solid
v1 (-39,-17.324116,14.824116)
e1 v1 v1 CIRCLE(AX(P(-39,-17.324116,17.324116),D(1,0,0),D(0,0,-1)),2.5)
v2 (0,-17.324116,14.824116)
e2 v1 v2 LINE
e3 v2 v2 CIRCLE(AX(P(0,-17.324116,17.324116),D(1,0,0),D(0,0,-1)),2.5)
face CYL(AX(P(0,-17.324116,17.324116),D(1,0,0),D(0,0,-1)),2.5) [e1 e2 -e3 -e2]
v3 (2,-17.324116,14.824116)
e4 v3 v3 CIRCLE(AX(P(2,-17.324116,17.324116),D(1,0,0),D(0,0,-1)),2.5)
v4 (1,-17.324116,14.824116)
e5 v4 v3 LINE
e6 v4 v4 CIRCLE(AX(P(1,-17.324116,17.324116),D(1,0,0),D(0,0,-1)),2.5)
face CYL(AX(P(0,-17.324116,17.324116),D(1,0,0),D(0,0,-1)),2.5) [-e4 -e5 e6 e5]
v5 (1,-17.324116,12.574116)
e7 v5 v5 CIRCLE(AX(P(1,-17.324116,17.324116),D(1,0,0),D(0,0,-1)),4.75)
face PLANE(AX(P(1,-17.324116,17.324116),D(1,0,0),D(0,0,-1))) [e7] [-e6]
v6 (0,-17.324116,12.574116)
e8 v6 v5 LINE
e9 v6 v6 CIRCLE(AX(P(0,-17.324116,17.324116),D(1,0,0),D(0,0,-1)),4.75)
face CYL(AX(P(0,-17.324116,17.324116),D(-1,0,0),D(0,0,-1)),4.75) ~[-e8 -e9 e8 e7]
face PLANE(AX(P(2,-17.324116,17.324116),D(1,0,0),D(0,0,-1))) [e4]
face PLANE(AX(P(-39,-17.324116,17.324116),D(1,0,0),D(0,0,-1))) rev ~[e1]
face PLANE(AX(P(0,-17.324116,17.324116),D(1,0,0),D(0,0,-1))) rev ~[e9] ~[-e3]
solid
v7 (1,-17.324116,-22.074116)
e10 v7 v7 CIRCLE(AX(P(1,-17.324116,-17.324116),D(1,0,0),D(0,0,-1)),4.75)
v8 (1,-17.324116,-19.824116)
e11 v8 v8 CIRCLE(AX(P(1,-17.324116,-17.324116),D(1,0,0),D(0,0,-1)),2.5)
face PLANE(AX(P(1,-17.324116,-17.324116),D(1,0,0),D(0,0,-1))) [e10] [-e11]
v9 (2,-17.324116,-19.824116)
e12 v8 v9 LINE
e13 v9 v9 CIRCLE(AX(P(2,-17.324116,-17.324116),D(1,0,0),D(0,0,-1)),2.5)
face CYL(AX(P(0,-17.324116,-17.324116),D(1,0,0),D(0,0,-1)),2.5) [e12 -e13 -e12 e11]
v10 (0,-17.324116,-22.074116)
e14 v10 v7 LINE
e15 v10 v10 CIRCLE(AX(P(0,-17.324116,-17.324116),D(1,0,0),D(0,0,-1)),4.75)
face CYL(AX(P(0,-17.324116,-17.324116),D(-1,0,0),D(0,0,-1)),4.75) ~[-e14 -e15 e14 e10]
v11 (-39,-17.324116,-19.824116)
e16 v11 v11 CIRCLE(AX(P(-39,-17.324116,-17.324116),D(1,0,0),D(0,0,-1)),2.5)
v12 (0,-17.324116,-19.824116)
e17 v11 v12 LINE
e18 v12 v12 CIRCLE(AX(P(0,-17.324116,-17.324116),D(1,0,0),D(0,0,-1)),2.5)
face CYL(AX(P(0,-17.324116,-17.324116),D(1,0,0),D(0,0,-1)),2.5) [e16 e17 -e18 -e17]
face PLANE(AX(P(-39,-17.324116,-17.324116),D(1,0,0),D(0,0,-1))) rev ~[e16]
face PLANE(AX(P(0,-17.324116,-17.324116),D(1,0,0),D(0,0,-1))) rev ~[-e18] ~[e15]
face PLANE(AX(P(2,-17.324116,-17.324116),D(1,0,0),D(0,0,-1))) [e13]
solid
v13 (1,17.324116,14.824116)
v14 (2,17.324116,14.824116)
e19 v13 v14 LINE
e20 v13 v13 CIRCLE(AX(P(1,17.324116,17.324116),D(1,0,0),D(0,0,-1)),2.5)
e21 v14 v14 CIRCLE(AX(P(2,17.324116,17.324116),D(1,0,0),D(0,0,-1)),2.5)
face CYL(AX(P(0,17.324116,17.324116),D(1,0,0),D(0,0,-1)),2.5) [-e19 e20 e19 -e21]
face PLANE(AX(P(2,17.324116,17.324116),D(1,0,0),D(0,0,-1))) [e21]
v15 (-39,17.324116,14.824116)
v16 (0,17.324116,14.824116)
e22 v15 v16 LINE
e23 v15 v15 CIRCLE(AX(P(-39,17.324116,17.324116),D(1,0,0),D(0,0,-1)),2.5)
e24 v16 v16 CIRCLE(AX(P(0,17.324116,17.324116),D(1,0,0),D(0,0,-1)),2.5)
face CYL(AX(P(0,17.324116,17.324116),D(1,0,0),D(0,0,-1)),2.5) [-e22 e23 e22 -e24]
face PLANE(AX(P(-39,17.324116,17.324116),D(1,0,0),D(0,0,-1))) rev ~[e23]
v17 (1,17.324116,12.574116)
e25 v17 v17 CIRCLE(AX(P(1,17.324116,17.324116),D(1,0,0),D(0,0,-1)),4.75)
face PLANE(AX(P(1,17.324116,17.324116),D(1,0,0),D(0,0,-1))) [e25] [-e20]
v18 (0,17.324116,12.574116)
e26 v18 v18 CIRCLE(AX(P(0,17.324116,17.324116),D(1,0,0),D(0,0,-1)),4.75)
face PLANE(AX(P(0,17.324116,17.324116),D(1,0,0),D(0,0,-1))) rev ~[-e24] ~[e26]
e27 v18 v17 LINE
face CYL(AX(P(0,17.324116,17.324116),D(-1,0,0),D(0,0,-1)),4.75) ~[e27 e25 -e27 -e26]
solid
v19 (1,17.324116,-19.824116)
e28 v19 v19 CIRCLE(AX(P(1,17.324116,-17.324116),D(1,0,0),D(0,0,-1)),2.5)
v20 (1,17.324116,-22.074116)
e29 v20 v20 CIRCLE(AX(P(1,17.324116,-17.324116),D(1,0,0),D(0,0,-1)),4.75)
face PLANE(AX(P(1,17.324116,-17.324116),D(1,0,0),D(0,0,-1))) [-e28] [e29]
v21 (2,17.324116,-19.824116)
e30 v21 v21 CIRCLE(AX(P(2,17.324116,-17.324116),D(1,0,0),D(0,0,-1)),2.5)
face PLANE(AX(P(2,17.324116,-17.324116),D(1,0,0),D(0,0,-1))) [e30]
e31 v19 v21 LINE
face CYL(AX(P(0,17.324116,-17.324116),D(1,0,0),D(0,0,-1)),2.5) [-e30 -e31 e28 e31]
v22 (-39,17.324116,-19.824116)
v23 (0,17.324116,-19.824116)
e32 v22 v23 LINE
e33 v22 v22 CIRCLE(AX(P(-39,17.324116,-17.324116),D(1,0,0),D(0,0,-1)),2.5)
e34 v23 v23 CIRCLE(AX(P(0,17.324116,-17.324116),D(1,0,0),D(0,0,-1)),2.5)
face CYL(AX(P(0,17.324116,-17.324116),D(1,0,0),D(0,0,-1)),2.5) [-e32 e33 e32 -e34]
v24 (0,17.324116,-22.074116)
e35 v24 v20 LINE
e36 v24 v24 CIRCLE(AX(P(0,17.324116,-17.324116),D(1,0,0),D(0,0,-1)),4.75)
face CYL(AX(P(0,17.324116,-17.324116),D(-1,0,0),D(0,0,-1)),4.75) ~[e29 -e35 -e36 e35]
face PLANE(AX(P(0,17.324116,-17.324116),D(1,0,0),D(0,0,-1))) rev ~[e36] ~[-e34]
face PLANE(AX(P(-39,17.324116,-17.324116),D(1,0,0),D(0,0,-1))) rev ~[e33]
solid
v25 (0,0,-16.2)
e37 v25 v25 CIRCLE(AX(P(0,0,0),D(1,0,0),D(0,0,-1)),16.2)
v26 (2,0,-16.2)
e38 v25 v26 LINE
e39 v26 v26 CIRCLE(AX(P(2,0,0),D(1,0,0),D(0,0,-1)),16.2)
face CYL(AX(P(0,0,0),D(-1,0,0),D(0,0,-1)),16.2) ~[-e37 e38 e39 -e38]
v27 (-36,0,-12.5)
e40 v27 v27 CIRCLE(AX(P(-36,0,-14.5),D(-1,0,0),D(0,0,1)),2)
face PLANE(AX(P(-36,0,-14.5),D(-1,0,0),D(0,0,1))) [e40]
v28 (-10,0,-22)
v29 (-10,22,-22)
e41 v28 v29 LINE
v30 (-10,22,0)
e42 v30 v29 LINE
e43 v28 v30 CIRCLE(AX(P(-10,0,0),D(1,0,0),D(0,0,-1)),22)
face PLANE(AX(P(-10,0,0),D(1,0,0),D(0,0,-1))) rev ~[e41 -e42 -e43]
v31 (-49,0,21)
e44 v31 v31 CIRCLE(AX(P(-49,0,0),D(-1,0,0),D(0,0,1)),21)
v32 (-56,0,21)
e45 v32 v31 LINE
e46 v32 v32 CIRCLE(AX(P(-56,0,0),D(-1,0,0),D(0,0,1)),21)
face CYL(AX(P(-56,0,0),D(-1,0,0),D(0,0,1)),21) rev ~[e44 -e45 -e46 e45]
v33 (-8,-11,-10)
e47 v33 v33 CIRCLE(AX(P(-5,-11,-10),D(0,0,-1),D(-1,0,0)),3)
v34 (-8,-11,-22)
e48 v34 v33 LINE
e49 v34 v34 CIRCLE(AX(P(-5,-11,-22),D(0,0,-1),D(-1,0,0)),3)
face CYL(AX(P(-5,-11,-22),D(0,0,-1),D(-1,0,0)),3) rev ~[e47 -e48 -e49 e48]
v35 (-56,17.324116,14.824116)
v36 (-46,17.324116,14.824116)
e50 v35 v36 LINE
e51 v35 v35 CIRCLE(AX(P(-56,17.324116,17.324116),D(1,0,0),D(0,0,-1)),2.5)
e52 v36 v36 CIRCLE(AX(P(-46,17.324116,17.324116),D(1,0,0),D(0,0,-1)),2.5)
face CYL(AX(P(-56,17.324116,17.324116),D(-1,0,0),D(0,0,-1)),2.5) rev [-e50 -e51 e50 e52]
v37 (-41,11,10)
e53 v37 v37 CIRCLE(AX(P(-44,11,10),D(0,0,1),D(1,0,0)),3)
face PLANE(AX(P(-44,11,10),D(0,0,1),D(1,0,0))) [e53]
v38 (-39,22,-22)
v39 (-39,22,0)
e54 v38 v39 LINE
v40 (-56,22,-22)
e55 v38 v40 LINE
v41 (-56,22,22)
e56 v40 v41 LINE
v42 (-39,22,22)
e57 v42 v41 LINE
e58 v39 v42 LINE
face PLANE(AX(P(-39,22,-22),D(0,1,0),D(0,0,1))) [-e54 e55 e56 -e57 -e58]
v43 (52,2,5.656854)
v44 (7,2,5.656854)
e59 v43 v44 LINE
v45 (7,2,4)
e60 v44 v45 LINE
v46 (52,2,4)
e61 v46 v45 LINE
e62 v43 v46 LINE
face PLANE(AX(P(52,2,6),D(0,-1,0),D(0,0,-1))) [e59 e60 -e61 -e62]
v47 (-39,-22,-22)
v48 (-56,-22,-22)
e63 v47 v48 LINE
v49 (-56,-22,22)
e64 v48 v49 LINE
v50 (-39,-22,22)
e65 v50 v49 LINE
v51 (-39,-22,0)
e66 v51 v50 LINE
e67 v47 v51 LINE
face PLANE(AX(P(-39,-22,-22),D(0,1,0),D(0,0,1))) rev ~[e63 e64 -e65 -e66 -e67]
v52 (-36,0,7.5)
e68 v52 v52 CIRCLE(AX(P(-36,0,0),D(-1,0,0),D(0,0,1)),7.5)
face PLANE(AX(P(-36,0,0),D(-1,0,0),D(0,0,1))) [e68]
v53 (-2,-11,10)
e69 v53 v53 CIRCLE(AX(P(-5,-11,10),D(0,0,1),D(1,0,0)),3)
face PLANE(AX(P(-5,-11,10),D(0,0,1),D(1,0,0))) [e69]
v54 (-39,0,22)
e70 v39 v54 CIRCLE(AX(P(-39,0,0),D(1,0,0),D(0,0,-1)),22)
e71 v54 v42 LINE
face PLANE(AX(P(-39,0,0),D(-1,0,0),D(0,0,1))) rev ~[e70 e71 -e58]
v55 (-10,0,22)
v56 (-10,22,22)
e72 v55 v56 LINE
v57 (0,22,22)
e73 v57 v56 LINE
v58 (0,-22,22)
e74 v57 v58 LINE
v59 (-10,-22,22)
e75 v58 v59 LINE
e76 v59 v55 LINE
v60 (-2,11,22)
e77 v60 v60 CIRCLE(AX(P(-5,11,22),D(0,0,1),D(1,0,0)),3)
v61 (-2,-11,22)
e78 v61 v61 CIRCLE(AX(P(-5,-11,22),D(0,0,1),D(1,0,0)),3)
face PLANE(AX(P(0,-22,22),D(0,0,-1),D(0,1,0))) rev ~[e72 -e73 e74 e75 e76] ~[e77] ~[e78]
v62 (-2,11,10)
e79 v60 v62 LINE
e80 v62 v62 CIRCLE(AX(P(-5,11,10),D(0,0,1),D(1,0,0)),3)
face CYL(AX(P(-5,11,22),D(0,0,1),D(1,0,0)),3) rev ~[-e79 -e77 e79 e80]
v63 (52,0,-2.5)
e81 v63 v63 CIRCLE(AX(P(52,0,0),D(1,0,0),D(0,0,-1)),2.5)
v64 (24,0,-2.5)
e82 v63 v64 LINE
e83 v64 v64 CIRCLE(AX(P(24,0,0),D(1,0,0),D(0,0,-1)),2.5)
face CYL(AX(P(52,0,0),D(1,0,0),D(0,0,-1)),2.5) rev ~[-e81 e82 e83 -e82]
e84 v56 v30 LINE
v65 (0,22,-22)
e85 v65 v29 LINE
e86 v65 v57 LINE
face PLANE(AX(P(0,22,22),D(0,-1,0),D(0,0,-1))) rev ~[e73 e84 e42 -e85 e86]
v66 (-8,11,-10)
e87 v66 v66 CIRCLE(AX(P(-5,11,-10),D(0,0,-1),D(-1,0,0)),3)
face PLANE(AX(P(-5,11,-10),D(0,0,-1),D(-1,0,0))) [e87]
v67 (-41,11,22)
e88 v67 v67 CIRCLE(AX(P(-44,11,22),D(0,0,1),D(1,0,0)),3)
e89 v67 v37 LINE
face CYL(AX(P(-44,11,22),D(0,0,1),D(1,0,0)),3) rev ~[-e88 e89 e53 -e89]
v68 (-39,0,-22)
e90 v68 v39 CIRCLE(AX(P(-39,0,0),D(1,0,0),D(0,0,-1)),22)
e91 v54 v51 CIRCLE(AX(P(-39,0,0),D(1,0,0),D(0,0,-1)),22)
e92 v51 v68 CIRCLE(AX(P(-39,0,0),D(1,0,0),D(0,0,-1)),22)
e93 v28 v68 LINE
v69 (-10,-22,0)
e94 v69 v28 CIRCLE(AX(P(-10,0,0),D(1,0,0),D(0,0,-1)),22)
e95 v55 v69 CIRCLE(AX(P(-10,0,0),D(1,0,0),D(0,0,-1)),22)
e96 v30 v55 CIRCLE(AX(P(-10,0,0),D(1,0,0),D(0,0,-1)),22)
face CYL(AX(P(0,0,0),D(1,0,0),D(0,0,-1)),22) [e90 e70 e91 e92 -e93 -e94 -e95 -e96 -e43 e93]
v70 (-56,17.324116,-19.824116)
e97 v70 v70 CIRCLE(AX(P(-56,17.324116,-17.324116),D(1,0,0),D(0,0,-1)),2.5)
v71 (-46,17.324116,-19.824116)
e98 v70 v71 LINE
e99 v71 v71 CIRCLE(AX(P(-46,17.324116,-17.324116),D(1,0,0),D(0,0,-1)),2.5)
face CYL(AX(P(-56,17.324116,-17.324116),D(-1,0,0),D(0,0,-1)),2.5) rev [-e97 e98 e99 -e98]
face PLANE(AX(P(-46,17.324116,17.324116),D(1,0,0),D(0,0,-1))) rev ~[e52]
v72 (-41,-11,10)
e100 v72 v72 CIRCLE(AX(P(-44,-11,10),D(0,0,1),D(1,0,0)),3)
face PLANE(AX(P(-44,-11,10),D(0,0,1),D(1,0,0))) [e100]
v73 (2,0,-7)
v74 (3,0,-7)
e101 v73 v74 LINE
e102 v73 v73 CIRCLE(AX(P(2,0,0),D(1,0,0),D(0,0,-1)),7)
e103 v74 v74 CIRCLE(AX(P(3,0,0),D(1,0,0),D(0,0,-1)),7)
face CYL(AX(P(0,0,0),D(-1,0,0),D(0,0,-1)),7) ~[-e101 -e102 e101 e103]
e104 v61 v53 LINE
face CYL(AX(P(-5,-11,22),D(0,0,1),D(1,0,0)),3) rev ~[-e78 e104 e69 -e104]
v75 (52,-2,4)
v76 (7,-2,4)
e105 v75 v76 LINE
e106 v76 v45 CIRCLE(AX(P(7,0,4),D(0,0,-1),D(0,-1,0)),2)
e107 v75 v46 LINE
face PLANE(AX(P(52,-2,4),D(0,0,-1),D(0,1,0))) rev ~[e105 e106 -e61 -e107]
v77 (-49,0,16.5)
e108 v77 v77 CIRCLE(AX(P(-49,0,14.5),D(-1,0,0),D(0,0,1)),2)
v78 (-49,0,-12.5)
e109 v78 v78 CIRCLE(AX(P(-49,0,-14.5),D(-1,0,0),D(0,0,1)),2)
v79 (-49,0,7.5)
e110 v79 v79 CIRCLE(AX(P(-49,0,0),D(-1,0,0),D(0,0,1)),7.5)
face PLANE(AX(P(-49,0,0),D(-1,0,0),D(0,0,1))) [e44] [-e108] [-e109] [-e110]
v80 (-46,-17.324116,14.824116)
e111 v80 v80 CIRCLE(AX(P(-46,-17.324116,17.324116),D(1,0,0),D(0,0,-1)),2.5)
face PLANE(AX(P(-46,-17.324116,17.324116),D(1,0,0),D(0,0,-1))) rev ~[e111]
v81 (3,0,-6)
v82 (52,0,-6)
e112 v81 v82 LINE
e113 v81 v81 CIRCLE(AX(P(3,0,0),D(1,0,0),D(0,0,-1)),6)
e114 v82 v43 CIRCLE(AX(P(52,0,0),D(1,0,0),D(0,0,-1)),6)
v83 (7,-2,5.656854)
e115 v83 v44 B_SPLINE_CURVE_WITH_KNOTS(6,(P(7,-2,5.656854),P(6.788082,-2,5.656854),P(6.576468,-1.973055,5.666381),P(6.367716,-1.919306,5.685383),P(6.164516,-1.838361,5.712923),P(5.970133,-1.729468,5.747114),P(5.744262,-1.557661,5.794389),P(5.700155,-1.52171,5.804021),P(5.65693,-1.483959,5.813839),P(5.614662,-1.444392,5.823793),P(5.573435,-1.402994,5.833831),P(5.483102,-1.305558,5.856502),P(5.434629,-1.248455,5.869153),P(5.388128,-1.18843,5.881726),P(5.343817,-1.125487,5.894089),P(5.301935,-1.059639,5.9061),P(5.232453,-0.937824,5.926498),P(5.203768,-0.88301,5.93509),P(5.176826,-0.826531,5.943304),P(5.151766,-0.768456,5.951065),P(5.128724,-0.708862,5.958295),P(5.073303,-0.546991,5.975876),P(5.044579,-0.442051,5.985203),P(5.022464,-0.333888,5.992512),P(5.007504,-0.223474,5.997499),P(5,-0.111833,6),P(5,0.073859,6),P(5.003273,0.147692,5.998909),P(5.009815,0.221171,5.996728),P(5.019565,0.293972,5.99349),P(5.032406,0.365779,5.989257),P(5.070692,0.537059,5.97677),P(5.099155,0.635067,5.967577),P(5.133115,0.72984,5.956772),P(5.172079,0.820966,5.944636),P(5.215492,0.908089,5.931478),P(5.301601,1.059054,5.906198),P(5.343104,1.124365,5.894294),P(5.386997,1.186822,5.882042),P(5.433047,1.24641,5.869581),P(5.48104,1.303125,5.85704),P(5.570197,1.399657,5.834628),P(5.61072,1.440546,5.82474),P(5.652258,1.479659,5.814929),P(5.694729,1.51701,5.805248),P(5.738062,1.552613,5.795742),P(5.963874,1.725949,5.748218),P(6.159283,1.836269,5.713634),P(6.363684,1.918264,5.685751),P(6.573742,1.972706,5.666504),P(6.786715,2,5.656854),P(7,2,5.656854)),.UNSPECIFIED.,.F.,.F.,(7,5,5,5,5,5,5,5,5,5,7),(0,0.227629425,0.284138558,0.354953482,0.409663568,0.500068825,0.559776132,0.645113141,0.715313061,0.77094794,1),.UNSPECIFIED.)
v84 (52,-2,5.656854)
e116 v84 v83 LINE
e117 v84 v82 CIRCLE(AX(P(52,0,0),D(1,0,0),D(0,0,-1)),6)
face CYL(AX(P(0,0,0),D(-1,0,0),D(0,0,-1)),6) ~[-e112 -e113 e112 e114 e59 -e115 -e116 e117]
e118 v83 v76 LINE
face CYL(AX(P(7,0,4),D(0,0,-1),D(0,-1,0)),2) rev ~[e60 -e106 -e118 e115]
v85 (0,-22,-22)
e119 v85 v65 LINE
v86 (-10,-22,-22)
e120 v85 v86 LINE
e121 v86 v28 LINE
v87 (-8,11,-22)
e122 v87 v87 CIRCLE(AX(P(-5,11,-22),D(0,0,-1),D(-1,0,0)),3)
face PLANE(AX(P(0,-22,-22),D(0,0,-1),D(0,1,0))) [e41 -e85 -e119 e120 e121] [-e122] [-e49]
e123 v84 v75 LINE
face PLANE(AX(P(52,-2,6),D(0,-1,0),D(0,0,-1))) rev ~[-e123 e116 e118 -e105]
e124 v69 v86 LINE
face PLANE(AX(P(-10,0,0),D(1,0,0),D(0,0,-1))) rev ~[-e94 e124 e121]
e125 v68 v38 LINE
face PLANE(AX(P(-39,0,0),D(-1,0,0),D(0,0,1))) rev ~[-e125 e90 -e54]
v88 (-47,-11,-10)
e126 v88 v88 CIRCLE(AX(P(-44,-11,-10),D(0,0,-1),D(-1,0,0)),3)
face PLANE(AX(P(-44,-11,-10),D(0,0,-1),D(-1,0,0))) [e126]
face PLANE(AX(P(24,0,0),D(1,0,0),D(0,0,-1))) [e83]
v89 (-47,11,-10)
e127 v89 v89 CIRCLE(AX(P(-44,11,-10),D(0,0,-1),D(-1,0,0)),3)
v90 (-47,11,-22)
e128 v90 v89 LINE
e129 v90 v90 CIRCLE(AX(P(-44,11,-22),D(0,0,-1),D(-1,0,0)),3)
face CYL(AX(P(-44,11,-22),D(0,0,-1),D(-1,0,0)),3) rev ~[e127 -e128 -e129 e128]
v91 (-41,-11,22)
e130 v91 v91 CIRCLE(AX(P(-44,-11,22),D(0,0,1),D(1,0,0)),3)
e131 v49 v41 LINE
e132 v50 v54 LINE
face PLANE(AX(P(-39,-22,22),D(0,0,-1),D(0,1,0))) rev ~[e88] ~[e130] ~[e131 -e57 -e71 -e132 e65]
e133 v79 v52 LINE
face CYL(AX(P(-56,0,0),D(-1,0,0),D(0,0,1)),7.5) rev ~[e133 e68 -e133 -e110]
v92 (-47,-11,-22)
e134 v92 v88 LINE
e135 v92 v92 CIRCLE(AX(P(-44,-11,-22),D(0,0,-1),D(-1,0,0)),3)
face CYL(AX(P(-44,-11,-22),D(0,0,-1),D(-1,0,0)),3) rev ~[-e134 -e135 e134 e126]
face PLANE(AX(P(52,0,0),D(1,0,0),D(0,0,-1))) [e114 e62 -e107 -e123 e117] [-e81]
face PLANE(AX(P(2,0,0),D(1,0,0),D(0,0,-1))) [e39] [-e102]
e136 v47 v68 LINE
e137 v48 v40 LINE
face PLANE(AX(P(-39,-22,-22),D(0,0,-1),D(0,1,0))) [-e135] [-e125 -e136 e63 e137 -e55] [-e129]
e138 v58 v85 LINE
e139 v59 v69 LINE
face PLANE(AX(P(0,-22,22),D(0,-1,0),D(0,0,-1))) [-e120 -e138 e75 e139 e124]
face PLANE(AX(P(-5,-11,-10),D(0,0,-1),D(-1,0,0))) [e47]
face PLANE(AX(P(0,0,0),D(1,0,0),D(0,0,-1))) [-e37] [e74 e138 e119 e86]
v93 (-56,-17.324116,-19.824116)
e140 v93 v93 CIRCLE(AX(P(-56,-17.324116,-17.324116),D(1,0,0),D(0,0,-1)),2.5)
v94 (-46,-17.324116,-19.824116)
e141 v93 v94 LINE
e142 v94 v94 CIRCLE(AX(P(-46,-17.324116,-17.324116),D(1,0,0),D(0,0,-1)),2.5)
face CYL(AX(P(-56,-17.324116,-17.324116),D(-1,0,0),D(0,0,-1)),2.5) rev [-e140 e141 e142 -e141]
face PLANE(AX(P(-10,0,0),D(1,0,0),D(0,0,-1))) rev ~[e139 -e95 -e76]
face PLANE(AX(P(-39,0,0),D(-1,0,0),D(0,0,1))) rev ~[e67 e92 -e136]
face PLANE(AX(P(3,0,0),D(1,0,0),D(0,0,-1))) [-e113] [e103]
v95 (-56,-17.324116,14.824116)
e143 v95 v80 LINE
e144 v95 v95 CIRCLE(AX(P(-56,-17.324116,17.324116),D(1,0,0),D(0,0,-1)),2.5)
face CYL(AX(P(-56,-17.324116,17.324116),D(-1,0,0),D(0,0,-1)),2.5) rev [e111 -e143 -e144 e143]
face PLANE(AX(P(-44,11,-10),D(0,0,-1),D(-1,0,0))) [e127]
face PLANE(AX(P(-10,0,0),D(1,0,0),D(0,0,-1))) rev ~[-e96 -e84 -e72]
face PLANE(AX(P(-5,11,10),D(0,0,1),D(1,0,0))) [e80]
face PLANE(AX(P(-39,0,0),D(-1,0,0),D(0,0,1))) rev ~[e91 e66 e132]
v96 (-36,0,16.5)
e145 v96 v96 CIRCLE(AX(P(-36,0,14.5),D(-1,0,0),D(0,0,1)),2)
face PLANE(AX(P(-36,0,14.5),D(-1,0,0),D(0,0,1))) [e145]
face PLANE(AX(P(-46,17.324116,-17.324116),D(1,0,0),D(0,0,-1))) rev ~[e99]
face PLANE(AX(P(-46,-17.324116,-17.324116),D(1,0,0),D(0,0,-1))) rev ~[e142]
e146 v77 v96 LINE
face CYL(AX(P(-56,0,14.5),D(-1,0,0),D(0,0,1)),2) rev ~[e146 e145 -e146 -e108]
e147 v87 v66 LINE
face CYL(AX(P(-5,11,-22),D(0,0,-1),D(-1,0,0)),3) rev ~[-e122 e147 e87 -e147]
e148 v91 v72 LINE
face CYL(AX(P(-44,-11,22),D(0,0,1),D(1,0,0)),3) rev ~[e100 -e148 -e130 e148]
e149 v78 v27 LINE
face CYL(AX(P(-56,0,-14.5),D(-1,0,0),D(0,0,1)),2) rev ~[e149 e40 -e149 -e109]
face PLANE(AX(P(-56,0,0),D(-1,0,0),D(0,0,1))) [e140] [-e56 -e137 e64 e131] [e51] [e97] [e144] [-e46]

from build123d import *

# Parameters (mm, degrees)
SKETCH1_W                   = 44
SKETCH1_H                   = 44
BOSS_EXTRUDE11_DEPTH        = 10
SKETCH1_16_R                = 22
SKETCH1_16_R_2              = 16.2
SKETCH1_16_R_3              = 7
SKETCH1_16_R_4              = 6
SKETCH1_16_R_5              = 2
BOSS_EXTRUDE13_DEPTH        = 39
SKETCH1_18_R                = 6
SKETCH1_18_R_2              = 2
BOSS_EXTRUDE14_DEPTH        = 52
SKETCH1_19_R                = 7
SKETCH1_19_R_2              = 6
BOSS_EXTRUDE15_DEPTH        = 3
SKETCH1_20_R                = 16.2
SKETCH1_20_R_2              = 7
BOSS_EXTRUDE16_DEPTH        = 2
SKETCH6_W                   = 44
SKETCH6_H                   = 44
BOSS_EXTRUDE17_DEPTH        = 17
SKETCH1_25_R                = 2.5
BOSS_EXTRUDE25_DEPTH        = 2
BOSS_EXTRUDE25_DEPTH_BACK   = 39
BOSS_EXTRUDE25_2_DEPTH      = 2
BOSS_EXTRUDE25_2_DEPTH_BACK = 39
BOSS_EXTRUDE25_3_DEPTH      = 2
BOSS_EXTRUDE25_3_DEPTH_BACK = 39
BOSS_EXTRUDE25_4_DEPTH      = 2
BOSS_EXTRUDE25_4_DEPTH_BACK = 39
SKETCH8_R                   = 3
CUT_EXTRUDE2_DEPTH          = 12
SKETCH9_R                   = 3
CUT_EXTRUDE3_DEPTH          = 12
SKETCH12_W                  = 2
SKETCH12_H                  = 4
CUT_EXTRUDE4_DEPTH          = 45
SKETCH11_R                  = 2.5
CUT_EXTRUDE5_DEPTH          = 28
CUT_EXTRUDE6_DEPTH          = 28
SKETCH15_R                  = 3
CUT_EXTRUDE7_DEPTH          = 12
SKETCH16_R                  = 3
CUT_EXTRUDE8_DEPTH          = 12
SKETCH10_R                  = 4.75
BOSS_EXTRUDE26_DEPTH        = 1
CUT_EXTRUDE9_START          = -56
SKETCH1_30_R                = 2.5
CUT_EXTRUDE9_DEPTH          = 10
SKETCH17_R                  = 21
SKETCH17_R_2                = 2
SKETCH17_R_3                = 7.5
CUT_EXTRUDE10_DEPTH         = 7
SKETCH17_3_R                = 7.5
SKETCH17_3_R_2              = 2
CUT_EXTRUDE11_DEPTH         = 20


with BuildPart() as part:
    # Sketch1 → Boss-Extrude11 (new body)
    with BuildSketch(Plane(origin=(0, 0, 0), x_dir=(0, 0, -1), z_dir=(1, 0, 0))):
        Rectangle(SKETCH1_W, SKETCH1_H)
    extrude(amount=-BOSS_EXTRUDE11_DEPTH)

    # Sketch1_16 → Boss-Extrude13 (add)
    with BuildSketch(Plane(origin=(0, 0, 0), x_dir=(0, 0, -1), z_dir=(1, 0, 0))):
        Circle(SKETCH1_16_R)
        Circle(SKETCH1_16_R_2, mode=Mode.SUBTRACT)
        Circle(SKETCH1_16_R_2)
        Circle(SKETCH1_16_R_3, mode=Mode.SUBTRACT)
        Circle(SKETCH1_16_R_3)
        Circle(SKETCH1_16_R_4, mode=Mode.SUBTRACT)
        Circle(SKETCH1_16_R_4)
        Circle(SKETCH1_16_R_5, mode=Mode.SUBTRACT)
        Circle(SKETCH1_16_R_5)
    extrude(amount=-BOSS_EXTRUDE13_DEPTH)

    # Sketch1_18 → Boss-Extrude14 (add)
    with BuildSketch(Plane(origin=(0, 0, 0), x_dir=(0, 0, -1), z_dir=(1, 0, 0))):
        Circle(SKETCH1_18_R)
        Circle(SKETCH1_18_R_2, mode=Mode.SUBTRACT)
        Circle(SKETCH1_18_R_2)
    extrude(amount=BOSS_EXTRUDE14_DEPTH)

    # Sketch1_19 → Boss-Extrude15 (add)
    with BuildSketch(Plane(origin=(0, 0, 0), x_dir=(0, 0, -1), z_dir=(1, 0, 0))):
        Circle(SKETCH1_19_R)
        Circle(SKETCH1_19_R_2, mode=Mode.SUBTRACT)
    extrude(amount=BOSS_EXTRUDE15_DEPTH)

    # Sketch1_20 → Boss-Extrude16 (add)
    with BuildSketch(Plane(origin=(0, 0, 0), x_dir=(0, 0, -1), z_dir=(1, 0, 0))):
        Circle(SKETCH1_20_R)
        Circle(SKETCH1_20_R_2, mode=Mode.SUBTRACT)
    extrude(amount=BOSS_EXTRUDE16_DEPTH)

    # Sketch6 → Boss-Extrude17 (add)
    with BuildSketch(Plane.ZY.offset(39)):
        Rectangle(SKETCH6_W, SKETCH6_H)
    extrude(amount=BOSS_EXTRUDE17_DEPTH)

    # Sketch8 → Cut-Extrude2 (cut)
    with BuildSketch(Plane.XY.offset(22)):
        with Locations((-44, 11)):
            Circle(SKETCH8_R)
        with Locations((-44, -11)):
            Circle(SKETCH8_R)
    extrude(amount=-CUT_EXTRUDE2_DEPTH, mode=Mode.SUBTRACT)

    # Sketch9 → Cut-Extrude3 (cut)
    with BuildSketch(Plane.XY.offset(22)):
        with Locations((-5, 11)):
            Circle(SKETCH9_R)
        with Locations((-5, -11)):
            Circle(SKETCH9_R)
    extrude(amount=-CUT_EXTRUDE3_DEPTH, mode=Mode.SUBTRACT)

    # Sketch12 → Cut-Extrude4 (cut)
    with BuildSketch(Plane(origin=(52, 0, 0), x_dir=(0, 0, -1), z_dir=(1, 0, 0))):
        with Locations((-5, 0)):
            Rectangle(SKETCH12_W, SKETCH12_H)
    extrude(amount=-CUT_EXTRUDE4_DEPTH, mode=Mode.SUBTRACT)

    # Sketch11 → Cut-Extrude5 (cut)
    with BuildSketch(Plane(origin=(52, 0, 0), x_dir=(0, 0, -1), z_dir=(1, 0, 0))):
        Circle(SKETCH11_R)
    extrude(amount=-CUT_EXTRUDE5_DEPTH, mode=Mode.SUBTRACT)

    # Sketch13 → Cut-Extrude6 (cut)
    with BuildSketch(Plane.XY.offset(4)):
        with BuildLine():
            Line((7, 2), (7, -2))
            ThreePointArc((7, -2), (5, 0), (7, 2))
        make_face()
    extrude(amount=CUT_EXTRUDE6_DEPTH, mode=Mode.SUBTRACT)

    # Sketch15 → Cut-Extrude7 (cut)
    with BuildSketch(Plane(origin=(0, 0, -22), x_dir=(-1, 0, 0), z_dir=(0, 0, -1))):
        with Locations((5, 11)):
            Circle(SKETCH15_R)
        with Locations((5, -11)):
            Circle(SKETCH15_R)
    extrude(amount=-CUT_EXTRUDE7_DEPTH, mode=Mode.SUBTRACT)

    # Sketch16 → Cut-Extrude8 (cut)
    with BuildSketch(Plane(origin=(0, 0, -22), x_dir=(-1, 0, 0), z_dir=(0, 0, -1))):
        with Locations((44, 11)):
            Circle(SKETCH16_R)
        with Locations((44, -11)):
            Circle(SKETCH16_R)
    extrude(amount=-CUT_EXTRUDE8_DEPTH, mode=Mode.SUBTRACT)

    # Sketch1_30 → Cut-Extrude9 (cut)
    with BuildSketch(Plane(origin=(0, 0, 0), x_dir=(0, 0, -1), z_dir=(1, 0, 0)).offset(CUT_EXTRUDE9_START)):
        with Locations((-17.324116139, 17.324116139)):
            Circle(SKETCH1_30_R)
        with Locations((-17.324116139, -17.324116139)):
            Circle(SKETCH1_30_R)
        with Locations((17.324116139, 17.324116139)):
            Circle(SKETCH1_30_R)
        with Locations((17.324116139, -17.324116139)):
            Circle(SKETCH1_30_R)
    extrude(amount=CUT_EXTRUDE9_DEPTH, mode=Mode.SUBTRACT)

    # Sketch17 → Cut-Extrude10 (cut)
    with BuildSketch(Plane.ZY.offset(56)):
        Circle(SKETCH17_R)
        with Locations((-14.5, 0)):
            Circle(SKETCH17_R_2, mode=Mode.SUBTRACT)
        with Locations((14.5, 0)):
            Circle(SKETCH17_R_2, mode=Mode.SUBTRACT)
        Circle(SKETCH17_R_3, mode=Mode.SUBTRACT)
        with Locations((-14.5, 0)):
            Circle(SKETCH17_R_2)
        Circle(SKETCH17_R_3)
        with Locations((14.5, 0)):
            Circle(SKETCH17_R_2)
    extrude(amount=-CUT_EXTRUDE10_DEPTH, mode=Mode.SUBTRACT)

    # Sketch17_3 → Cut-Extrude11 (cut)
    with BuildSketch(Plane.ZY.offset(56)):
        Circle(SKETCH17_3_R)
        with Locations((-14.5, 0)):
            Circle(SKETCH17_3_R_2)
        with Locations((14.5, 0)):
            Circle(SKETCH17_3_R_2)
    extrude(amount=-CUT_EXTRUDE11_DEPTH, mode=Mode.SUBTRACT)


with BuildPart() as body_2:
    # Sketch1_25 → Boss-Extrude25 (new body, two sides)
    with BuildSketch(Plane(origin=(0, 0, 0), x_dir=(0, 0, -1), z_dir=(1, 0, 0))) as boss_extrude25_sk:
        with Locations((-17.324116139, 17.324116139)):
            Circle(SKETCH1_25_R)
    extrude(amount=BOSS_EXTRUDE25_DEPTH)
    extrude(boss_extrude25_sk.sketch, amount=-BOSS_EXTRUDE25_DEPTH_BACK)



with BuildPart() as body_3:
    # Sketch1_25 → Boss-Extrude25 2 (new body, two sides)
    with BuildSketch(Plane(origin=(0, 0, 0), x_dir=(0, 0, -1), z_dir=(1, 0, 0))) as boss_extrude25_2_sk:
        with Locations((17.324116139, -17.324116139)):
            Circle(SKETCH1_25_R)
    extrude(amount=BOSS_EXTRUDE25_2_DEPTH)
    extrude(boss_extrude25_2_sk.sketch, amount=-BOSS_EXTRUDE25_2_DEPTH_BACK)


with BuildPart() as body_4:
    # Sketch1_25 → Boss-Extrude25 3 (new body, two sides)
    with BuildSketch(Plane(origin=(0, 0, 0), x_dir=(0, 0, -1), z_dir=(1, 0, 0))) as boss_extrude25_3_sk:
        with Locations((-17.324116139, -17.324116139)):
            Circle(SKETCH1_25_R)
    extrude(amount=BOSS_EXTRUDE25_3_DEPTH)
    extrude(boss_extrude25_3_sk.sketch, amount=-BOSS_EXTRUDE25_3_DEPTH_BACK)


with BuildPart() as body_5:
    # Sketch1_25 → Boss-Extrude25 4 (new body, two sides)
    with BuildSketch(Plane(origin=(0, 0, 0), x_dir=(0, 0, -1), z_dir=(1, 0, 0))) as boss_extrude25_4_sk:
        with Locations((17.324116139, 17.324116139)):
            Circle(SKETCH1_25_R)
    extrude(amount=BOSS_EXTRUDE25_4_DEPTH)
    extrude(boss_extrude25_4_sk.sketch, amount=-BOSS_EXTRUDE25_4_DEPTH_BACK)


with BuildPart() as body_2_1:
    add(body_2.part)

    add(body_3.part)  # Boss-Extrude26 merges body 3

    add(body_4.part)  # Boss-Extrude26 merges body 4

    add(body_5.part)  # Boss-Extrude26 merges body 5
    # Sketch10 → Boss-Extrude26 (add)
    with BuildSketch(Plane(origin=(0, 0, 0), x_dir=(0, 0, -1), z_dir=(1, 0, 0))):
        with Locations((-17.324116139, 17.324116139)):
            Circle(SKETCH10_R)
        with Locations((17.324116139, 17.324116139)):
            Circle(SKETCH10_R)
        with Locations((17.324116139, -17.324116139)):
            Circle(SKETCH10_R)
        with Locations((-17.324116139, -17.324116139)):
            Circle(SKETCH10_R)
    extrude(amount=BOSS_EXTRUDE26_DEPTH)


solid = Compound([part.part, body_2_1.part])
